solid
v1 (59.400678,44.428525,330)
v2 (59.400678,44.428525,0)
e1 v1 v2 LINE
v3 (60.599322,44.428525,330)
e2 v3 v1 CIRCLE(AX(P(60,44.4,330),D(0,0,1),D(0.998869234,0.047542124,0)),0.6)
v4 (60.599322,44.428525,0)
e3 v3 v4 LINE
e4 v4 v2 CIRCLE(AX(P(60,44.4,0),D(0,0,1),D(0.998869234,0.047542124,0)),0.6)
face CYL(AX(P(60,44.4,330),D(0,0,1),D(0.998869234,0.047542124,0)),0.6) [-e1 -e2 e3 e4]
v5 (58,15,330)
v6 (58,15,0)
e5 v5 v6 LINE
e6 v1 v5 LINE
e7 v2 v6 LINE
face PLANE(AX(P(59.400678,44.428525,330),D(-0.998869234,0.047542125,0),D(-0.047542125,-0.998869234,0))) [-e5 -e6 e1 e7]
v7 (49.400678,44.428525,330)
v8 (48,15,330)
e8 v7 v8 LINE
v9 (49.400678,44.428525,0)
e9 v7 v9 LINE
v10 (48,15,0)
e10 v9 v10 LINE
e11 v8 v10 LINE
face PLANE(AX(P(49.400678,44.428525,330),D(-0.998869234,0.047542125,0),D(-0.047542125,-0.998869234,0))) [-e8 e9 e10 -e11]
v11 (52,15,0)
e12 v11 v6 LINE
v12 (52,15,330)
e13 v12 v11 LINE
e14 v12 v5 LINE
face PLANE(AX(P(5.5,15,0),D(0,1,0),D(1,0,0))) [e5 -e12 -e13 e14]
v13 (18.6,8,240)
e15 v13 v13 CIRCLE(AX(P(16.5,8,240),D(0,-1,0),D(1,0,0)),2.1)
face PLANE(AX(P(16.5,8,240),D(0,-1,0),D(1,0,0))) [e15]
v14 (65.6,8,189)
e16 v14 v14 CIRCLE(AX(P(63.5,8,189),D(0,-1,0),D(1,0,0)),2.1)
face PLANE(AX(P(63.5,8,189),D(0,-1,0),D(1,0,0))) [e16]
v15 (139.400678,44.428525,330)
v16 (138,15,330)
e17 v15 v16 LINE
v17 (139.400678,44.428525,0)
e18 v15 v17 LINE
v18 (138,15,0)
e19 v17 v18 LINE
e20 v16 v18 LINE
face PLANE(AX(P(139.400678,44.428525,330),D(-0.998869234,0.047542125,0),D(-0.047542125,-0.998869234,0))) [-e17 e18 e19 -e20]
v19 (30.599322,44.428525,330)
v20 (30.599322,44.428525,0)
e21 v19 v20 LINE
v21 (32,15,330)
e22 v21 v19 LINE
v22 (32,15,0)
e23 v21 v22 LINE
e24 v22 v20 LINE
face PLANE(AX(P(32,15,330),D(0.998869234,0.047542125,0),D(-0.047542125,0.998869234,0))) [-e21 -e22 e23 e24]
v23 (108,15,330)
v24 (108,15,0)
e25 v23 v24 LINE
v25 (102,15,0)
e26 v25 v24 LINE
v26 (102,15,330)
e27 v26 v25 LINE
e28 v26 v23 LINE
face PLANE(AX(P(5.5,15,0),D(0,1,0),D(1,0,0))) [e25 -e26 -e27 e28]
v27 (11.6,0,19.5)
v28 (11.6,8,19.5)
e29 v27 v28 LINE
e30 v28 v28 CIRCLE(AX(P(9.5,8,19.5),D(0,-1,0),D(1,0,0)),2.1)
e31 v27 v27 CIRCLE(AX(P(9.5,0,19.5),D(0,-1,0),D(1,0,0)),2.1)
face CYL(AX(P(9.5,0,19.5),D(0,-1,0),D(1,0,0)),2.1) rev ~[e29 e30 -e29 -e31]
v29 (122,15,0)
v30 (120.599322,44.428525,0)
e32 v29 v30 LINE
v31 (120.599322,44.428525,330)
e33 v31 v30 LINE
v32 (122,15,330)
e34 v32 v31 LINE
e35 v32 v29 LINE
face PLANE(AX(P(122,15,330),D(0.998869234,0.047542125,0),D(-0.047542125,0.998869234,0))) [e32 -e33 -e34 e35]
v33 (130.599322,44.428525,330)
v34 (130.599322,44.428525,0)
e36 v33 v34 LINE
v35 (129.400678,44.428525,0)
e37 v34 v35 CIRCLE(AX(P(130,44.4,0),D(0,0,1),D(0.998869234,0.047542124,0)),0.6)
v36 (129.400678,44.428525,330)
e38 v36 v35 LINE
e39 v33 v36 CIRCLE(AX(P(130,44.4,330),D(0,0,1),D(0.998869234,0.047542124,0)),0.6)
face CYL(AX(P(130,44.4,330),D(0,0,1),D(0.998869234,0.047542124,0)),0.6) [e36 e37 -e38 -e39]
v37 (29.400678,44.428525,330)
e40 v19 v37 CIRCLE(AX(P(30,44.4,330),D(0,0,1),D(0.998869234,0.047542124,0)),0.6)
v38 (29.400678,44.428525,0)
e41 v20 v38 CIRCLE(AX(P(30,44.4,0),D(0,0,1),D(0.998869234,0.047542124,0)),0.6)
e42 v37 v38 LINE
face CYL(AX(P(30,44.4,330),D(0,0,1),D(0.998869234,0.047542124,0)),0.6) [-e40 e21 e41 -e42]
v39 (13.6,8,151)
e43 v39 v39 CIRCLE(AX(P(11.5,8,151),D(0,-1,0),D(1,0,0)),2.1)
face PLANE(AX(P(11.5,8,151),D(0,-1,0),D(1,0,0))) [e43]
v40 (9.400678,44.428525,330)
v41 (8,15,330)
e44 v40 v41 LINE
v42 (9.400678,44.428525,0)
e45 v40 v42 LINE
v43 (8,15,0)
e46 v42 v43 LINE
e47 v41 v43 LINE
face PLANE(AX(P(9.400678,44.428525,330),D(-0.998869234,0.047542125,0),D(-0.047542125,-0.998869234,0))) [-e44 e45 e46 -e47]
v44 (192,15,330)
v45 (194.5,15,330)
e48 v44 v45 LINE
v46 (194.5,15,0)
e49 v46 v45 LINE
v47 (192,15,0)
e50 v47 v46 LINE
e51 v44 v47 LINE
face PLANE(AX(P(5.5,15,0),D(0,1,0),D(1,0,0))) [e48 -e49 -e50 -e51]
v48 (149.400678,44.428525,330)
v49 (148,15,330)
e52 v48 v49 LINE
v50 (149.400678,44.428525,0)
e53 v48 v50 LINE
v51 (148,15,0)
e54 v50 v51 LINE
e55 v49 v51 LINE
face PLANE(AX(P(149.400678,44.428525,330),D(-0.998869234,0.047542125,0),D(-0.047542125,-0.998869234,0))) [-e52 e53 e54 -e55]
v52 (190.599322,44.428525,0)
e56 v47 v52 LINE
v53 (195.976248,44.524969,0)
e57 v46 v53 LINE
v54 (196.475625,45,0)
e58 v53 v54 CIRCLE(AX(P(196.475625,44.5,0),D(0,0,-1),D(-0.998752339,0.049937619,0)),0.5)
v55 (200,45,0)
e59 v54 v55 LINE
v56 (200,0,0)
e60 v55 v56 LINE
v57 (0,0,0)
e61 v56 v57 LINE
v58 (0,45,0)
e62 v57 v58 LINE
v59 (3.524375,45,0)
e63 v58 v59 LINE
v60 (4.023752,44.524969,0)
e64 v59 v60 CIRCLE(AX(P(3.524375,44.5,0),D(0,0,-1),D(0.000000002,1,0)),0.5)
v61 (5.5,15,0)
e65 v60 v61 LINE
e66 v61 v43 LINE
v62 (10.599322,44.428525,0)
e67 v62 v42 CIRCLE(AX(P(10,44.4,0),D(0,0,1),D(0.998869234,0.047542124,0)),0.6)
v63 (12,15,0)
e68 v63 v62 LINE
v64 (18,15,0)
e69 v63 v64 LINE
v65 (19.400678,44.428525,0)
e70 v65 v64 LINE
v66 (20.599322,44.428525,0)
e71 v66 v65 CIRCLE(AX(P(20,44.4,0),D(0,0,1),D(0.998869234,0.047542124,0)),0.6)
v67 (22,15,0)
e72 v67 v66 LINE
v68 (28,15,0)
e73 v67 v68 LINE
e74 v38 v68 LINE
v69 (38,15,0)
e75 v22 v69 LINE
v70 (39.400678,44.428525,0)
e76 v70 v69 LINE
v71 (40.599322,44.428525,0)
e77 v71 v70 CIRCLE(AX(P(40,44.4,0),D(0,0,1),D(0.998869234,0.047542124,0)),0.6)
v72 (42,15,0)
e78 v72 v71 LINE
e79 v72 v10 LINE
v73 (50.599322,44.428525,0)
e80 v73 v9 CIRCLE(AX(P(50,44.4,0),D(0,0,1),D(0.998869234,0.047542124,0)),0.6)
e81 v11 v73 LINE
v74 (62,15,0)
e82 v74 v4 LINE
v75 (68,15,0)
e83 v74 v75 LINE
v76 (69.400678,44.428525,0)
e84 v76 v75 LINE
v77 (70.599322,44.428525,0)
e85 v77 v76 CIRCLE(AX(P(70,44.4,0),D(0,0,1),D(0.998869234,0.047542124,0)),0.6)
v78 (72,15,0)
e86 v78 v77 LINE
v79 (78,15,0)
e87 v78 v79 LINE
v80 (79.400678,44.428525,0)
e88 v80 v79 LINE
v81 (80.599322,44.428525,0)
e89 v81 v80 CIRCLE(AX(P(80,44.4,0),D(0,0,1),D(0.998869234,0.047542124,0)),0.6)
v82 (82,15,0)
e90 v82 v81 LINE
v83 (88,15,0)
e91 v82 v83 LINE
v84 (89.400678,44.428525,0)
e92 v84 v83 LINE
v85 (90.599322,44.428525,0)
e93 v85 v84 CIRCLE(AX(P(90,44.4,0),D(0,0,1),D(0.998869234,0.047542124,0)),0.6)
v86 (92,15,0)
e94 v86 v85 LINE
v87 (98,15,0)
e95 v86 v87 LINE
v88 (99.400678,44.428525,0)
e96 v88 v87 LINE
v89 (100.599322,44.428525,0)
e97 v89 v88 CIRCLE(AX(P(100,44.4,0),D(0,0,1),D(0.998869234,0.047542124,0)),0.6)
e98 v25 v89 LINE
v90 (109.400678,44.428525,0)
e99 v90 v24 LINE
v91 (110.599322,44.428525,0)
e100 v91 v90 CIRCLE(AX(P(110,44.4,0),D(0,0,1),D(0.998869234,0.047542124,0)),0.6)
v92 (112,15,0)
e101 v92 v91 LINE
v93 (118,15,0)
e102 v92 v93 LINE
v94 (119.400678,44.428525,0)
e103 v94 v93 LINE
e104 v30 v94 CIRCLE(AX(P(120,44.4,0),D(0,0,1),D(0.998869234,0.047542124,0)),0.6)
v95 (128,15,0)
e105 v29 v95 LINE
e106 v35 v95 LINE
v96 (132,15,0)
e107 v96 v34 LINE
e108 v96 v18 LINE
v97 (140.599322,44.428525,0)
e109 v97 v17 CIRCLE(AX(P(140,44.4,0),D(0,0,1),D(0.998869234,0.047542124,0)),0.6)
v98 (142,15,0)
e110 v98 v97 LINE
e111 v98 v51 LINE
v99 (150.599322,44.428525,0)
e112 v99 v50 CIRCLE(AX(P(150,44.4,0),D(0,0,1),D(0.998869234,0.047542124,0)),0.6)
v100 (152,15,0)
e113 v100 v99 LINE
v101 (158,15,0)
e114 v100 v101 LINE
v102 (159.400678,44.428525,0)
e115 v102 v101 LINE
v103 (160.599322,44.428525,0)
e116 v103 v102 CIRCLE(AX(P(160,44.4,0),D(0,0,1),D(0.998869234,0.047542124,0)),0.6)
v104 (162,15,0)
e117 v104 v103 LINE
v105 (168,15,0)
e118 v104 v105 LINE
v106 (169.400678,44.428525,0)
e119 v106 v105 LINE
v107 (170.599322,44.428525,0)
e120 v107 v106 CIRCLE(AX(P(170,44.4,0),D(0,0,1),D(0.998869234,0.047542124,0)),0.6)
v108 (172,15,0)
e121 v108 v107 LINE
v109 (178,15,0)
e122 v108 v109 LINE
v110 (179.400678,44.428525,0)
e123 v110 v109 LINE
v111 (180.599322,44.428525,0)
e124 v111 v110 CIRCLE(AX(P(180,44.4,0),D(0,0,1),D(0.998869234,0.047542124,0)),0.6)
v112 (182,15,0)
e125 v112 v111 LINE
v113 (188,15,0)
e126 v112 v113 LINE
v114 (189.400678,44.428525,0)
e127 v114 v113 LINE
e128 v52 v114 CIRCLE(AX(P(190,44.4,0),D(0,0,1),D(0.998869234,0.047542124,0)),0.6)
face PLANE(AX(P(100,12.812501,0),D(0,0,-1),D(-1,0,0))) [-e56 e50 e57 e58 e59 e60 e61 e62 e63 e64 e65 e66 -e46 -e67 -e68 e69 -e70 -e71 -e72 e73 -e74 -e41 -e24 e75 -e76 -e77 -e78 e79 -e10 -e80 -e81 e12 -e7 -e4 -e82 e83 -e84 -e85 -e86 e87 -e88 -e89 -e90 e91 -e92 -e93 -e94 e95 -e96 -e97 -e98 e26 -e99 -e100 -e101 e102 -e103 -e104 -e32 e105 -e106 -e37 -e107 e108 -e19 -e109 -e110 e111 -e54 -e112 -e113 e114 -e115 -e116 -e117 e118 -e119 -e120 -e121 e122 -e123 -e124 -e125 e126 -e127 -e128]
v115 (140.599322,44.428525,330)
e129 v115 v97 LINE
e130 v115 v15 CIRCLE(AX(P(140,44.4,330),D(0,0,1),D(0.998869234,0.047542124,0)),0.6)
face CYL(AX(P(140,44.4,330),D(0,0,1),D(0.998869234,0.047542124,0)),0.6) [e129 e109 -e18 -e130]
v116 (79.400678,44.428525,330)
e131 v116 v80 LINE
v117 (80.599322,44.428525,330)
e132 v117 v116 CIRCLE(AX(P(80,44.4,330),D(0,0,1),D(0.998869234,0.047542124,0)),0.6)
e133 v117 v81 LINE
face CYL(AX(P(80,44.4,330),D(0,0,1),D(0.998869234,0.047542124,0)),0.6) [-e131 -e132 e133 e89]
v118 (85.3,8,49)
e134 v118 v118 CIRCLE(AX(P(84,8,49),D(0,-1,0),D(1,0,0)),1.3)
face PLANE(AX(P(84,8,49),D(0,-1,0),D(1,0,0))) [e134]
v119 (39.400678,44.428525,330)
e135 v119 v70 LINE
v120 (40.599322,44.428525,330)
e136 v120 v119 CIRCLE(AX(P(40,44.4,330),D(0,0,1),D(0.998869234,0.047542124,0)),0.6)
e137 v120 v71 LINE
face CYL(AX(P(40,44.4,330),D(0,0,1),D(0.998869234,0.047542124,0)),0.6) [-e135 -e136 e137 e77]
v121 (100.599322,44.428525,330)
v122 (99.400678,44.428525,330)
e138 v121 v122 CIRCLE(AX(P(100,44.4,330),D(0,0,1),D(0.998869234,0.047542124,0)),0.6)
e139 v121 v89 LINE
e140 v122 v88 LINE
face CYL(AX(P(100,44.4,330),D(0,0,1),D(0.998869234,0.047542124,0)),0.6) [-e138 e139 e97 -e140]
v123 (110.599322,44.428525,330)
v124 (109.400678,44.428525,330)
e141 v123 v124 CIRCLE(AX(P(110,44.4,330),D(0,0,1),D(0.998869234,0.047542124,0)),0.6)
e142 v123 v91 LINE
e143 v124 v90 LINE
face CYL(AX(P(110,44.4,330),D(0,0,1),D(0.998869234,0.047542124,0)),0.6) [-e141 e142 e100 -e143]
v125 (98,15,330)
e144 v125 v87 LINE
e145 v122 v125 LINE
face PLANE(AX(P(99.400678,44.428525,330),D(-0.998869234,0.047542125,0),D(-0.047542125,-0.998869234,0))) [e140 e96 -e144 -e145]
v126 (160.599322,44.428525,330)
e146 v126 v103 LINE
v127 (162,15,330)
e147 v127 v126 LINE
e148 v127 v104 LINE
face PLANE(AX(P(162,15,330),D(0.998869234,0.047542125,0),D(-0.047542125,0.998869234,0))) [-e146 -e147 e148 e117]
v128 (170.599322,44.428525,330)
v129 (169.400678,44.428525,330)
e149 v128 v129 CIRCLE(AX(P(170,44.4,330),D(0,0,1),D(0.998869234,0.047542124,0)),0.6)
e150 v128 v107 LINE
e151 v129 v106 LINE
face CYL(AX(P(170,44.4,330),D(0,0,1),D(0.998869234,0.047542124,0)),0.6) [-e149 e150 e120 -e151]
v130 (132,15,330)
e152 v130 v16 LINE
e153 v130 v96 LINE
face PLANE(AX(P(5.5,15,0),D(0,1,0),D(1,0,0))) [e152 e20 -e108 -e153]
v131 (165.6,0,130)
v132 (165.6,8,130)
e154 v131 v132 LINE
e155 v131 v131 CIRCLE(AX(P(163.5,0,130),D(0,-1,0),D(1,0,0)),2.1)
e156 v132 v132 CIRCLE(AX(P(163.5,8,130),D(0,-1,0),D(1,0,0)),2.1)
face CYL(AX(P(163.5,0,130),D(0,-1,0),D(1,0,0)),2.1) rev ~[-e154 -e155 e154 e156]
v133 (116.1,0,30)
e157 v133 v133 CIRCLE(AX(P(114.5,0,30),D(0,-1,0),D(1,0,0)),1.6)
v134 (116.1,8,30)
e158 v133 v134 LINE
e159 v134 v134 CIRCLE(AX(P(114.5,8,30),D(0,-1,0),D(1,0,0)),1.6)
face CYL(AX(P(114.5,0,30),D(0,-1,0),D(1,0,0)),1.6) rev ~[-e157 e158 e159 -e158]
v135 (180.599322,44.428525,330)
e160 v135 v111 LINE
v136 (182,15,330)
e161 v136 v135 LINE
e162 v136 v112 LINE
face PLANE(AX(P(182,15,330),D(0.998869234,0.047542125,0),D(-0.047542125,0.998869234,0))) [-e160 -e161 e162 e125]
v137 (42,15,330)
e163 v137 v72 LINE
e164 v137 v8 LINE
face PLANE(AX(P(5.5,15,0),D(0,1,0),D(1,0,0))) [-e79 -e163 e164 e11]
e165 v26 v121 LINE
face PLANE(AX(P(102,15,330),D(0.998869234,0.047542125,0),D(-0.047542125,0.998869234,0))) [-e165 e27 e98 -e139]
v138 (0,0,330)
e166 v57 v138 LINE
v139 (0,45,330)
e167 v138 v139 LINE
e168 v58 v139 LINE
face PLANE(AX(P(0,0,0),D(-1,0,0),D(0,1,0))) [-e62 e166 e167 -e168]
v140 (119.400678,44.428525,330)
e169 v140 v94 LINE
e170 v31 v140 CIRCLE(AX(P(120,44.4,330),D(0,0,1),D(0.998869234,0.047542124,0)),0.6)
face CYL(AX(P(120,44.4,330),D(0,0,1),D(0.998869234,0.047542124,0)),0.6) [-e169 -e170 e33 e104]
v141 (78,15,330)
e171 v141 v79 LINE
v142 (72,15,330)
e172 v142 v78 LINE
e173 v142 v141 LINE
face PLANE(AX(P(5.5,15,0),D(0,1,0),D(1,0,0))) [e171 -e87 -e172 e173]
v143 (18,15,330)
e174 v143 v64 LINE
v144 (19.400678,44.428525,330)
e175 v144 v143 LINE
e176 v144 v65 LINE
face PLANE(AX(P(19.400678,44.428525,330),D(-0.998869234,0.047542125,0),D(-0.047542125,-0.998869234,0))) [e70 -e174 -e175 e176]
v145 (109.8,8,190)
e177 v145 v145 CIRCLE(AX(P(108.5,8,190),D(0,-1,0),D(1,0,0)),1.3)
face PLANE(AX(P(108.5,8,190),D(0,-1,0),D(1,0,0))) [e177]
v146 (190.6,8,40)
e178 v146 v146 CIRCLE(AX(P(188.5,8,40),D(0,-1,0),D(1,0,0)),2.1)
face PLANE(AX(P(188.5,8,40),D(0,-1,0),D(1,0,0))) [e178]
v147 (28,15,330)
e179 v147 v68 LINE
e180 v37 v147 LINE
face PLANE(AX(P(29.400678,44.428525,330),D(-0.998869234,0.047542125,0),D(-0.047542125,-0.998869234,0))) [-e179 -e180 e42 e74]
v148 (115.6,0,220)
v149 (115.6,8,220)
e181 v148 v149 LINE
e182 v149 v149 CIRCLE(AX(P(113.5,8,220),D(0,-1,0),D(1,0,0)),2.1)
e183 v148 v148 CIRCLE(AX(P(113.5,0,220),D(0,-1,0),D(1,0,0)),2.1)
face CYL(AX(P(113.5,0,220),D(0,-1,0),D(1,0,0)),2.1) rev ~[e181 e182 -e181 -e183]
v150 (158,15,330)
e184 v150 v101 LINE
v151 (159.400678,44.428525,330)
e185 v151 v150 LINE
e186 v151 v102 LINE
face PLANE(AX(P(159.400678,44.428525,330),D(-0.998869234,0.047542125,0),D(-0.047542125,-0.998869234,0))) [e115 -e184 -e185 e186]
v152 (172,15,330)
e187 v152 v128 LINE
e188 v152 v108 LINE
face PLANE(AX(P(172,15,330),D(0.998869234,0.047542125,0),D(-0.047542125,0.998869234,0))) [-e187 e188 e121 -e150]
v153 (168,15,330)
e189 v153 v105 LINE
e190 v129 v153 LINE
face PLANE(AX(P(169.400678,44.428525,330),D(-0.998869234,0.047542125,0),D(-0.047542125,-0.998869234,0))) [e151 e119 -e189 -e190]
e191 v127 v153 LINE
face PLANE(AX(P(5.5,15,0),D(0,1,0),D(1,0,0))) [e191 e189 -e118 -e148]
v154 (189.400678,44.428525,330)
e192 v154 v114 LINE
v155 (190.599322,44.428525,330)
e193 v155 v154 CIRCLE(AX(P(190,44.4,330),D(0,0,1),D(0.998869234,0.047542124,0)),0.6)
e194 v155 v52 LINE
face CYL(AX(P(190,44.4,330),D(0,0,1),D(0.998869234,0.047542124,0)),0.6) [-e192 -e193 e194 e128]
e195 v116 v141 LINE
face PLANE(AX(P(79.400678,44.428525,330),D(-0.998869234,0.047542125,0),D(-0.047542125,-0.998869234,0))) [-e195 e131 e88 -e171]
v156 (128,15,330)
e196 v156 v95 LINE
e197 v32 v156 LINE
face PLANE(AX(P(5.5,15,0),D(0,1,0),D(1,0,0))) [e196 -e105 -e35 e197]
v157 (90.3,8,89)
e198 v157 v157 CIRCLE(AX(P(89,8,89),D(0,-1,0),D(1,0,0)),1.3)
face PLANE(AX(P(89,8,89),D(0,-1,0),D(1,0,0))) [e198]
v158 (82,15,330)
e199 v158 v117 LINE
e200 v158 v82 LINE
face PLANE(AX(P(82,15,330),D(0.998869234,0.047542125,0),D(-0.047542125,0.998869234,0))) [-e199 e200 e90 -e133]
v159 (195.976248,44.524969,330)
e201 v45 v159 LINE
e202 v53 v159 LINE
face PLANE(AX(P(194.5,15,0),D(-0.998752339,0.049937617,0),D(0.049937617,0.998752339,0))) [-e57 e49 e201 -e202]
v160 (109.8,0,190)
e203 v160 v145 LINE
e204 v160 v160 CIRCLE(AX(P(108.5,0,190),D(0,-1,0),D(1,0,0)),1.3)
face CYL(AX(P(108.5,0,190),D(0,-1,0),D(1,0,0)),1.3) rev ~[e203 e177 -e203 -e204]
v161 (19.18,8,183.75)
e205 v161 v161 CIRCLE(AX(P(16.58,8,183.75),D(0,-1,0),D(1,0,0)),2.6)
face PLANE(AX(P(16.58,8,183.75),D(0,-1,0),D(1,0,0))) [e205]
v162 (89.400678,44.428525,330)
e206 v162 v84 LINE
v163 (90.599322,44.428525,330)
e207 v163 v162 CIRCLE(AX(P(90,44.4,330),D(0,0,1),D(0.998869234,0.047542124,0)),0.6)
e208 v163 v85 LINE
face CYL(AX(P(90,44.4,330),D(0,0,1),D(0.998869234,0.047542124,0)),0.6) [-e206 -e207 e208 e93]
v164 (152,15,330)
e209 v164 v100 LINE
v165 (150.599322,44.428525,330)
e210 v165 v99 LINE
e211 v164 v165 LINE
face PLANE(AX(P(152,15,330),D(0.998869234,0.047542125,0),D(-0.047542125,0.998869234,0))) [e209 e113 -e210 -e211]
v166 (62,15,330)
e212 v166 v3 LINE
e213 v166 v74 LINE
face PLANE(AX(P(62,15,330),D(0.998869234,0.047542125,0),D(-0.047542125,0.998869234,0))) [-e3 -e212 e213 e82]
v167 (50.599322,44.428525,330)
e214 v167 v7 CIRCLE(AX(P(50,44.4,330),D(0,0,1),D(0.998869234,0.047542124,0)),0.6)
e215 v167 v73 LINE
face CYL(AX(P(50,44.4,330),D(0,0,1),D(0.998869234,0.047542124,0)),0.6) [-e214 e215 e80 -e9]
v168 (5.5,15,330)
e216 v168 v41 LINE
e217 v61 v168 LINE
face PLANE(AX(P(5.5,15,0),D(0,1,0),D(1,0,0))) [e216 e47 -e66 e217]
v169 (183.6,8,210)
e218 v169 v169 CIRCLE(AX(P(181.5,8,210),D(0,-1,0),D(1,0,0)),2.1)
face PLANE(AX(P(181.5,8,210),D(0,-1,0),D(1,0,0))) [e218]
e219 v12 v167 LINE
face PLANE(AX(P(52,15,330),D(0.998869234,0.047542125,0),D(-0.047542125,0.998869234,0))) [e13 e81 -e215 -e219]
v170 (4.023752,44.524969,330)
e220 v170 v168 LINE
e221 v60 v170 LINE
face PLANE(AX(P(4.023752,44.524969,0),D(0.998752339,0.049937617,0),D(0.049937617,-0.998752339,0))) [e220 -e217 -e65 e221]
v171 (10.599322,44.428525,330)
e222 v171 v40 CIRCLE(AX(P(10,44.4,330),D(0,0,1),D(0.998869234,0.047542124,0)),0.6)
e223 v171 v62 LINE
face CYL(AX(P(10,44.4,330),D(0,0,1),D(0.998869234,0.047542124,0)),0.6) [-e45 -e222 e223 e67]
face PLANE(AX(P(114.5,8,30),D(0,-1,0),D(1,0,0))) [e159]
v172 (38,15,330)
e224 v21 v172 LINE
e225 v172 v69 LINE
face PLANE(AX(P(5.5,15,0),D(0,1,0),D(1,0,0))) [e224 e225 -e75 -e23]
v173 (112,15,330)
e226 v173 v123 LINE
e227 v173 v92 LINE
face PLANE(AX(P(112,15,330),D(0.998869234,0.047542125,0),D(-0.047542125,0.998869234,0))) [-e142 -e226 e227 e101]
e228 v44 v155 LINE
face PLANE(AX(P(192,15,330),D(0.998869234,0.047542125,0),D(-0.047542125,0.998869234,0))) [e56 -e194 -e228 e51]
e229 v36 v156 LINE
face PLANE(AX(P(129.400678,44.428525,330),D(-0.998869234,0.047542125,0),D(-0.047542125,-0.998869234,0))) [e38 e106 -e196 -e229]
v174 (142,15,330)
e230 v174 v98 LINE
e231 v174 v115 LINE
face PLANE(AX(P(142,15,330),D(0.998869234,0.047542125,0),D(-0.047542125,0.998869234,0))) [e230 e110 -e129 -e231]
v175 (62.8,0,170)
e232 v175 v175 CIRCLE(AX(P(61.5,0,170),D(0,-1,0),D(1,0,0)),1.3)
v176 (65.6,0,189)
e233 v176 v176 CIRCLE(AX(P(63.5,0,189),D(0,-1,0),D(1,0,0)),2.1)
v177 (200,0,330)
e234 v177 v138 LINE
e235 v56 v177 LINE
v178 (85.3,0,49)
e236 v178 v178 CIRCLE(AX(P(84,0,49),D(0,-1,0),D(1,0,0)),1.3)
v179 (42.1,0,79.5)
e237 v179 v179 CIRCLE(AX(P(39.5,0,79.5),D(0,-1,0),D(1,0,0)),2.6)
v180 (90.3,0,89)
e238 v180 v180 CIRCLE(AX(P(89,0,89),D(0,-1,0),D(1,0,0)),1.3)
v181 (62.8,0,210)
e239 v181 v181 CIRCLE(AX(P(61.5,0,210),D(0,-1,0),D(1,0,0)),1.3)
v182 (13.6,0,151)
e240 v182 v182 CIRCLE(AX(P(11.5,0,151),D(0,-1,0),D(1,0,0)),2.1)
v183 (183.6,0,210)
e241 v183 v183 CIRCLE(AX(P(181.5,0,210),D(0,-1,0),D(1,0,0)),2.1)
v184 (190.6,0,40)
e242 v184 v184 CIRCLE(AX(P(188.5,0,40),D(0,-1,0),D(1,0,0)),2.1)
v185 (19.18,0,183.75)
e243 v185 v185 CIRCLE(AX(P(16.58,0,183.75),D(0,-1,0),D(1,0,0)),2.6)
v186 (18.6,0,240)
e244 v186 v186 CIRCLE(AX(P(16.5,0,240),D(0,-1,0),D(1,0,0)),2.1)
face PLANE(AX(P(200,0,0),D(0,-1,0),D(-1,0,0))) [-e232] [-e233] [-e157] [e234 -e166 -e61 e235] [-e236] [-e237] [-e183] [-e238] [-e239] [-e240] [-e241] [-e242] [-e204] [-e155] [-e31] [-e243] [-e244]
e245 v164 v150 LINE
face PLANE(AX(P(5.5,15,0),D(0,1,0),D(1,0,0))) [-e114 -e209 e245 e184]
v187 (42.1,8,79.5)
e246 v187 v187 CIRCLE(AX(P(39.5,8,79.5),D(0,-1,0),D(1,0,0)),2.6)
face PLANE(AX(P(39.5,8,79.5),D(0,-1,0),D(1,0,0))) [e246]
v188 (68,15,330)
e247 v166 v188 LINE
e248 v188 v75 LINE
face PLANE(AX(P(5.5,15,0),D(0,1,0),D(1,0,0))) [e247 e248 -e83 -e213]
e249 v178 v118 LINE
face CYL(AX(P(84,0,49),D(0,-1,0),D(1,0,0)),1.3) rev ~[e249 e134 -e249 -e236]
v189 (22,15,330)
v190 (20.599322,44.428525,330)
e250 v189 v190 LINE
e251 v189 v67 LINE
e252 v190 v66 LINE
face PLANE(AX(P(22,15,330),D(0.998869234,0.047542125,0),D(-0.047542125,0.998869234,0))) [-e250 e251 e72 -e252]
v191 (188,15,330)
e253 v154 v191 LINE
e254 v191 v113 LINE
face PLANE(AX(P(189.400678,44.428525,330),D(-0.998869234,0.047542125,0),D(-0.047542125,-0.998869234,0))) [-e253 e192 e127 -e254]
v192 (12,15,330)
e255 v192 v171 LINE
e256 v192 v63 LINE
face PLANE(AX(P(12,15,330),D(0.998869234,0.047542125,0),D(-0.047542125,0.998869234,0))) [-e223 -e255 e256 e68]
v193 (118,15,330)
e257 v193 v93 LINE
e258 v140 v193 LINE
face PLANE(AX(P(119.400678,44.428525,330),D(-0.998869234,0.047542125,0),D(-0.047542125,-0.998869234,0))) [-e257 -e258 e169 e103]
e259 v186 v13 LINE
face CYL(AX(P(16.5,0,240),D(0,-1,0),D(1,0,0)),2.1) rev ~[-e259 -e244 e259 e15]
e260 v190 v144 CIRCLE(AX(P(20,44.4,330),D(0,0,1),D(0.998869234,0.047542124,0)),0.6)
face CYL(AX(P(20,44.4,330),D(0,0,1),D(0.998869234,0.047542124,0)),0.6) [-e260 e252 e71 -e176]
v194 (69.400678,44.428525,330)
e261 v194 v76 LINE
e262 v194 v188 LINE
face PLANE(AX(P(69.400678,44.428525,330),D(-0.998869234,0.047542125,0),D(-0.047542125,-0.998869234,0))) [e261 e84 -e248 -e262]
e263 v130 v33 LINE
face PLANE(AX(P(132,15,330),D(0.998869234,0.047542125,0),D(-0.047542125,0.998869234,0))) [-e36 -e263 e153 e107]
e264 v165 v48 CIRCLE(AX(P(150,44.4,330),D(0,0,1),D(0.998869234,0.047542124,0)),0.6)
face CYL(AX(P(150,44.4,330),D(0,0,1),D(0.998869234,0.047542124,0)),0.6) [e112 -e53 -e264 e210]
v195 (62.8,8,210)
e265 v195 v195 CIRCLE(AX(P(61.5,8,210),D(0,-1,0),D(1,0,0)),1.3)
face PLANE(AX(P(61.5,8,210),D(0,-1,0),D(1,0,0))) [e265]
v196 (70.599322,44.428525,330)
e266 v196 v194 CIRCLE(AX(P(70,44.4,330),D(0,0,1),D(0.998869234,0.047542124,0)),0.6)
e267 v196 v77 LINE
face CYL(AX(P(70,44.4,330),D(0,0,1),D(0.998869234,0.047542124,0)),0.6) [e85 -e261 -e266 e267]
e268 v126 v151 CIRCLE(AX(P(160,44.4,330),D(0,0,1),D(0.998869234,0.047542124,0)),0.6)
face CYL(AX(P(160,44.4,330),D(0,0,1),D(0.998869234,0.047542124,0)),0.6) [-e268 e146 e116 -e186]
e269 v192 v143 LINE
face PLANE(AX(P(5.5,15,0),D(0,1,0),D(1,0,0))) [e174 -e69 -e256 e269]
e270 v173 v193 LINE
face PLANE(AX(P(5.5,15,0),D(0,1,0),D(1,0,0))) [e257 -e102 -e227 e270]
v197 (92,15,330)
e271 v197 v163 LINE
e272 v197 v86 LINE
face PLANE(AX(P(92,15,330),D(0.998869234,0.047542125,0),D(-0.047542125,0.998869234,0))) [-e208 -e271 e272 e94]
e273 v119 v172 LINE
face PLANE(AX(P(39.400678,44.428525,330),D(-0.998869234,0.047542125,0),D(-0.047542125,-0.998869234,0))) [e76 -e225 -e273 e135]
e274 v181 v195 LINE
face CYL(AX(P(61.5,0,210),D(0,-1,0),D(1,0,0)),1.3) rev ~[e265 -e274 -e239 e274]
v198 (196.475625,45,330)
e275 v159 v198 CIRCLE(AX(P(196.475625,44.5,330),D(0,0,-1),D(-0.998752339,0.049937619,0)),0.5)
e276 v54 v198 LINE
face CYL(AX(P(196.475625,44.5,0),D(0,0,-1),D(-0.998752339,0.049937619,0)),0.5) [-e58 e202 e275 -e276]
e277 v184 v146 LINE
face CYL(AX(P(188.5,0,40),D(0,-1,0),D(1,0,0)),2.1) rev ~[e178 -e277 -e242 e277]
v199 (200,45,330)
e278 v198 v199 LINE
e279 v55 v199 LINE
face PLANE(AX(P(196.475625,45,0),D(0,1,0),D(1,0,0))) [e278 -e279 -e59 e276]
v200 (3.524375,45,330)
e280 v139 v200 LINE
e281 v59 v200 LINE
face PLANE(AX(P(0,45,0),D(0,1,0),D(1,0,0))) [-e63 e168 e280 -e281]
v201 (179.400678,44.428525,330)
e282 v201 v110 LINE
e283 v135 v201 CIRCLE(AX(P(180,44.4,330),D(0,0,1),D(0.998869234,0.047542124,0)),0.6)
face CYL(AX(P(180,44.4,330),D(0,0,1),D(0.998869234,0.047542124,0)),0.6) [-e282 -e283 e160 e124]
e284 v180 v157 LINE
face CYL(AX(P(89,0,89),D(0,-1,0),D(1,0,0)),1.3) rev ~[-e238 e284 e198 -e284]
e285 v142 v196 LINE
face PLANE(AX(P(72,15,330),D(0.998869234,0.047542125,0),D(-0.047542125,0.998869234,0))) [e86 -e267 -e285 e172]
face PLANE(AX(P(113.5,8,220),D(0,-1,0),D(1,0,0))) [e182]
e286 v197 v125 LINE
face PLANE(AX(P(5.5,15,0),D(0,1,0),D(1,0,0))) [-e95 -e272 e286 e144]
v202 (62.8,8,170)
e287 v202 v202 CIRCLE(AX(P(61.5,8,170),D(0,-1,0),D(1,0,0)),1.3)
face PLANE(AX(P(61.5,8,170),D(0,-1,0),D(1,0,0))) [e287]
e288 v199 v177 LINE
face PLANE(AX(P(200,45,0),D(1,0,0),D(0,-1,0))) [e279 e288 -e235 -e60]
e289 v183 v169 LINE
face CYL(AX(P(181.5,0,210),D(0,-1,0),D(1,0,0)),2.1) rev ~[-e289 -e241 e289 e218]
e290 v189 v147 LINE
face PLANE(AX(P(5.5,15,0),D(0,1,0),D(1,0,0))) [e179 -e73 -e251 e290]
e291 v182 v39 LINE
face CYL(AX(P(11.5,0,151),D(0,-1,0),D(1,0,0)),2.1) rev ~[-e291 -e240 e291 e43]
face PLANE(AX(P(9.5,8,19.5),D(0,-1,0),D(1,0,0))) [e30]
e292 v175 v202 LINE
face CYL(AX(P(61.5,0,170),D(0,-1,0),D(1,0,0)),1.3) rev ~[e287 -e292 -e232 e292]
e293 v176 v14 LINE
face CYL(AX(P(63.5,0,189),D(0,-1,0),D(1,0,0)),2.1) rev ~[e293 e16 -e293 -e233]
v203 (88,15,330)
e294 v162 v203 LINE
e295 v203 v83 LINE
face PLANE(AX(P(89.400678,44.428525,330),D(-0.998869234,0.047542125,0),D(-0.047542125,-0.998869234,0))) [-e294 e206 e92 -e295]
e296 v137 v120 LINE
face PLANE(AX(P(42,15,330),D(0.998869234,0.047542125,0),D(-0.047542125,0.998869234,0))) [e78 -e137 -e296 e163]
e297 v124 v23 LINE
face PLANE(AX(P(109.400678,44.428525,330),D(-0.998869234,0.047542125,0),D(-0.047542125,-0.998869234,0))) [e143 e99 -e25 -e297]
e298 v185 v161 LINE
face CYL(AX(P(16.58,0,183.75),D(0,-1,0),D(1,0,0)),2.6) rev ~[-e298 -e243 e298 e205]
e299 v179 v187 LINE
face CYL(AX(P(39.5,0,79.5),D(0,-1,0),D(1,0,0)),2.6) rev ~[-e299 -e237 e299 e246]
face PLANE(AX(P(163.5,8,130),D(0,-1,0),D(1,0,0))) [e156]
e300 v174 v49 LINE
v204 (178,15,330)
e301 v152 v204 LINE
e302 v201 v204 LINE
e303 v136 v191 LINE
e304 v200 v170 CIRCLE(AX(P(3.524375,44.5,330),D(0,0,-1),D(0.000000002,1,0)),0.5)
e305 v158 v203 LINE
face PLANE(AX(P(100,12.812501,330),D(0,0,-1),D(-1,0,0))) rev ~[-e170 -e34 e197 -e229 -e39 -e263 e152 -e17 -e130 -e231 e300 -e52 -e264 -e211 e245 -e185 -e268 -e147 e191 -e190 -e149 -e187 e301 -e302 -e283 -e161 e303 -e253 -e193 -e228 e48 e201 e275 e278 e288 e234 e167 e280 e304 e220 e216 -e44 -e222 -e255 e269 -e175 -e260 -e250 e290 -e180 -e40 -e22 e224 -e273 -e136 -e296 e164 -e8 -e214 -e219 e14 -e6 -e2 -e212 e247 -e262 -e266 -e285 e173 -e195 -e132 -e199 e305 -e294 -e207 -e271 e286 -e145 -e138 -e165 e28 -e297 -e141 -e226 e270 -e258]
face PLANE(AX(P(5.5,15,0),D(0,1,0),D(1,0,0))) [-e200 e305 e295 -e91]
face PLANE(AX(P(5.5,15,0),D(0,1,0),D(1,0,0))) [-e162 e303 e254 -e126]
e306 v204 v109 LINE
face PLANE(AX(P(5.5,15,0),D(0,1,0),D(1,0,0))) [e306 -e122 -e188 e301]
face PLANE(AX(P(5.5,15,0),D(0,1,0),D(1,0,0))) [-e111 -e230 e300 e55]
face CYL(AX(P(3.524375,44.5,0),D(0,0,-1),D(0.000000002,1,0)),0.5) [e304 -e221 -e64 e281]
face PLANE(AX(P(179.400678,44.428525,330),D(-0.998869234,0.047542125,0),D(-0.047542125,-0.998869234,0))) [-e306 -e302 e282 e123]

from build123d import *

# Parameters (mm, degrees)
EXTRUDE_1_DEPTH       = 330
EXTRUDE_3_DEPTH       = 330
PATTERN_CURVE_1_COUNT = 19
PATTERN_CURVE_1_PITCH = 10
SKETCH_3_R            = 2.1
SKETCH_3_R_2          = 2.6
SKETCH_3_R_3          = 1.6
SKETCH_3_R_4          = 1.3
CUT_EXTRUDE_1_DEPTH   = 8


with BuildPart() as part:
    # Эскиз1 → Вытянуть1 (new body)
    with BuildSketch(Plane.XY):
        with BuildLine():
            Line((0, 45), (3.52437539, 45))
            ThreePointArc((3.52437539, 45), (3.868987923, 44.862273656), (4.02375156, 44.524968808))
            Line((4.02375156, 44.524968808), (5.5, 15))
            Line((5.5, 15), (194.5, 15))
            Line((194.5, 15), (195.97624844, 44.524968808))
            ThreePointArc((195.97624844, 44.524968808), (196.131012077, 44.862273656), (196.47562461, 45))
            Line((196.47562461, 45), (200, 45))
            Line((200, 45), (200, 0))
            Line((200, 0), (0, 0))
            Line((0, 0), (0, 45))
        make_face()
    extrude(amount=EXTRUDE_1_DEPTH)

    # Эскиз2 → Вытянуть3 (add)
    with BuildSketch(Plane.XY.offset(330)):
        with BuildLine():
            Line((9.40067846, 44.428525275), (8, 15))
            Line((8, 15), (12, 15))
            Line((12, 15), (10.59932154, 44.428525275))
            ThreePointArc((10.59932154, 44.428525275), (10, 45), (9.40067846, 44.428525275))
        make_face()
    extrude_3 = extrude(amount=-EXTRUDE_3_DEPTH)

    # Кривая1: Вытянуть3 ×19
    with Locations(*[(i * PATTERN_CURVE_1_PITCH, 0, 0) for i in range(1, PATTERN_CURVE_1_COUNT)]):
        add(extrude_3)

    # Эскиз3 → Вырез-Вытянуть1 (cut)
    with BuildSketch(Plane.XZ):
        with Locations((9.5, 19.5)):
            Circle(SKETCH_3_R)
        with Locations((11.5, 151)):
            Circle(SKETCH_3_R)
        with Locations((16.5, 240)):
            Circle(SKETCH_3_R)
        with Locations((181.5, 210)):
            Circle(SKETCH_3_R)
        with Locations((188.5, 40)):
            Circle(SKETCH_3_R)
        with Locations((163.5, 130)):
            Circle(SKETCH_3_R)
        with Locations((63.5, 189)):
            Circle(SKETCH_3_R)
        with Locations((39.5, 79.5)):
            Circle(SKETCH_3_R_2)
        with Locations((114.5, 30)):
            Circle(SKETCH_3_R_3)
        with Locations((16.58, 183.75)):
            Circle(SKETCH_3_R_2)
        with Locations((84, 49)):
            Circle(SKETCH_3_R_4)
        with Locations((89, 89)):
            Circle(SKETCH_3_R_4)
        with Locations((61.5, 170)):
            Circle(SKETCH_3_R_4)
        with Locations((61.5, 210)):
            Circle(SKETCH_3_R_4)
        with Locations((108.5, 190)):
            Circle(SKETCH_3_R_4)
        with Locations((113.5, 220)):
            Circle(SKETCH_3_R)
    extrude(amount=-CUT_EXTRUDE_1_DEPTH, mode=Mode.SUBTRACT)


solid = part.part
